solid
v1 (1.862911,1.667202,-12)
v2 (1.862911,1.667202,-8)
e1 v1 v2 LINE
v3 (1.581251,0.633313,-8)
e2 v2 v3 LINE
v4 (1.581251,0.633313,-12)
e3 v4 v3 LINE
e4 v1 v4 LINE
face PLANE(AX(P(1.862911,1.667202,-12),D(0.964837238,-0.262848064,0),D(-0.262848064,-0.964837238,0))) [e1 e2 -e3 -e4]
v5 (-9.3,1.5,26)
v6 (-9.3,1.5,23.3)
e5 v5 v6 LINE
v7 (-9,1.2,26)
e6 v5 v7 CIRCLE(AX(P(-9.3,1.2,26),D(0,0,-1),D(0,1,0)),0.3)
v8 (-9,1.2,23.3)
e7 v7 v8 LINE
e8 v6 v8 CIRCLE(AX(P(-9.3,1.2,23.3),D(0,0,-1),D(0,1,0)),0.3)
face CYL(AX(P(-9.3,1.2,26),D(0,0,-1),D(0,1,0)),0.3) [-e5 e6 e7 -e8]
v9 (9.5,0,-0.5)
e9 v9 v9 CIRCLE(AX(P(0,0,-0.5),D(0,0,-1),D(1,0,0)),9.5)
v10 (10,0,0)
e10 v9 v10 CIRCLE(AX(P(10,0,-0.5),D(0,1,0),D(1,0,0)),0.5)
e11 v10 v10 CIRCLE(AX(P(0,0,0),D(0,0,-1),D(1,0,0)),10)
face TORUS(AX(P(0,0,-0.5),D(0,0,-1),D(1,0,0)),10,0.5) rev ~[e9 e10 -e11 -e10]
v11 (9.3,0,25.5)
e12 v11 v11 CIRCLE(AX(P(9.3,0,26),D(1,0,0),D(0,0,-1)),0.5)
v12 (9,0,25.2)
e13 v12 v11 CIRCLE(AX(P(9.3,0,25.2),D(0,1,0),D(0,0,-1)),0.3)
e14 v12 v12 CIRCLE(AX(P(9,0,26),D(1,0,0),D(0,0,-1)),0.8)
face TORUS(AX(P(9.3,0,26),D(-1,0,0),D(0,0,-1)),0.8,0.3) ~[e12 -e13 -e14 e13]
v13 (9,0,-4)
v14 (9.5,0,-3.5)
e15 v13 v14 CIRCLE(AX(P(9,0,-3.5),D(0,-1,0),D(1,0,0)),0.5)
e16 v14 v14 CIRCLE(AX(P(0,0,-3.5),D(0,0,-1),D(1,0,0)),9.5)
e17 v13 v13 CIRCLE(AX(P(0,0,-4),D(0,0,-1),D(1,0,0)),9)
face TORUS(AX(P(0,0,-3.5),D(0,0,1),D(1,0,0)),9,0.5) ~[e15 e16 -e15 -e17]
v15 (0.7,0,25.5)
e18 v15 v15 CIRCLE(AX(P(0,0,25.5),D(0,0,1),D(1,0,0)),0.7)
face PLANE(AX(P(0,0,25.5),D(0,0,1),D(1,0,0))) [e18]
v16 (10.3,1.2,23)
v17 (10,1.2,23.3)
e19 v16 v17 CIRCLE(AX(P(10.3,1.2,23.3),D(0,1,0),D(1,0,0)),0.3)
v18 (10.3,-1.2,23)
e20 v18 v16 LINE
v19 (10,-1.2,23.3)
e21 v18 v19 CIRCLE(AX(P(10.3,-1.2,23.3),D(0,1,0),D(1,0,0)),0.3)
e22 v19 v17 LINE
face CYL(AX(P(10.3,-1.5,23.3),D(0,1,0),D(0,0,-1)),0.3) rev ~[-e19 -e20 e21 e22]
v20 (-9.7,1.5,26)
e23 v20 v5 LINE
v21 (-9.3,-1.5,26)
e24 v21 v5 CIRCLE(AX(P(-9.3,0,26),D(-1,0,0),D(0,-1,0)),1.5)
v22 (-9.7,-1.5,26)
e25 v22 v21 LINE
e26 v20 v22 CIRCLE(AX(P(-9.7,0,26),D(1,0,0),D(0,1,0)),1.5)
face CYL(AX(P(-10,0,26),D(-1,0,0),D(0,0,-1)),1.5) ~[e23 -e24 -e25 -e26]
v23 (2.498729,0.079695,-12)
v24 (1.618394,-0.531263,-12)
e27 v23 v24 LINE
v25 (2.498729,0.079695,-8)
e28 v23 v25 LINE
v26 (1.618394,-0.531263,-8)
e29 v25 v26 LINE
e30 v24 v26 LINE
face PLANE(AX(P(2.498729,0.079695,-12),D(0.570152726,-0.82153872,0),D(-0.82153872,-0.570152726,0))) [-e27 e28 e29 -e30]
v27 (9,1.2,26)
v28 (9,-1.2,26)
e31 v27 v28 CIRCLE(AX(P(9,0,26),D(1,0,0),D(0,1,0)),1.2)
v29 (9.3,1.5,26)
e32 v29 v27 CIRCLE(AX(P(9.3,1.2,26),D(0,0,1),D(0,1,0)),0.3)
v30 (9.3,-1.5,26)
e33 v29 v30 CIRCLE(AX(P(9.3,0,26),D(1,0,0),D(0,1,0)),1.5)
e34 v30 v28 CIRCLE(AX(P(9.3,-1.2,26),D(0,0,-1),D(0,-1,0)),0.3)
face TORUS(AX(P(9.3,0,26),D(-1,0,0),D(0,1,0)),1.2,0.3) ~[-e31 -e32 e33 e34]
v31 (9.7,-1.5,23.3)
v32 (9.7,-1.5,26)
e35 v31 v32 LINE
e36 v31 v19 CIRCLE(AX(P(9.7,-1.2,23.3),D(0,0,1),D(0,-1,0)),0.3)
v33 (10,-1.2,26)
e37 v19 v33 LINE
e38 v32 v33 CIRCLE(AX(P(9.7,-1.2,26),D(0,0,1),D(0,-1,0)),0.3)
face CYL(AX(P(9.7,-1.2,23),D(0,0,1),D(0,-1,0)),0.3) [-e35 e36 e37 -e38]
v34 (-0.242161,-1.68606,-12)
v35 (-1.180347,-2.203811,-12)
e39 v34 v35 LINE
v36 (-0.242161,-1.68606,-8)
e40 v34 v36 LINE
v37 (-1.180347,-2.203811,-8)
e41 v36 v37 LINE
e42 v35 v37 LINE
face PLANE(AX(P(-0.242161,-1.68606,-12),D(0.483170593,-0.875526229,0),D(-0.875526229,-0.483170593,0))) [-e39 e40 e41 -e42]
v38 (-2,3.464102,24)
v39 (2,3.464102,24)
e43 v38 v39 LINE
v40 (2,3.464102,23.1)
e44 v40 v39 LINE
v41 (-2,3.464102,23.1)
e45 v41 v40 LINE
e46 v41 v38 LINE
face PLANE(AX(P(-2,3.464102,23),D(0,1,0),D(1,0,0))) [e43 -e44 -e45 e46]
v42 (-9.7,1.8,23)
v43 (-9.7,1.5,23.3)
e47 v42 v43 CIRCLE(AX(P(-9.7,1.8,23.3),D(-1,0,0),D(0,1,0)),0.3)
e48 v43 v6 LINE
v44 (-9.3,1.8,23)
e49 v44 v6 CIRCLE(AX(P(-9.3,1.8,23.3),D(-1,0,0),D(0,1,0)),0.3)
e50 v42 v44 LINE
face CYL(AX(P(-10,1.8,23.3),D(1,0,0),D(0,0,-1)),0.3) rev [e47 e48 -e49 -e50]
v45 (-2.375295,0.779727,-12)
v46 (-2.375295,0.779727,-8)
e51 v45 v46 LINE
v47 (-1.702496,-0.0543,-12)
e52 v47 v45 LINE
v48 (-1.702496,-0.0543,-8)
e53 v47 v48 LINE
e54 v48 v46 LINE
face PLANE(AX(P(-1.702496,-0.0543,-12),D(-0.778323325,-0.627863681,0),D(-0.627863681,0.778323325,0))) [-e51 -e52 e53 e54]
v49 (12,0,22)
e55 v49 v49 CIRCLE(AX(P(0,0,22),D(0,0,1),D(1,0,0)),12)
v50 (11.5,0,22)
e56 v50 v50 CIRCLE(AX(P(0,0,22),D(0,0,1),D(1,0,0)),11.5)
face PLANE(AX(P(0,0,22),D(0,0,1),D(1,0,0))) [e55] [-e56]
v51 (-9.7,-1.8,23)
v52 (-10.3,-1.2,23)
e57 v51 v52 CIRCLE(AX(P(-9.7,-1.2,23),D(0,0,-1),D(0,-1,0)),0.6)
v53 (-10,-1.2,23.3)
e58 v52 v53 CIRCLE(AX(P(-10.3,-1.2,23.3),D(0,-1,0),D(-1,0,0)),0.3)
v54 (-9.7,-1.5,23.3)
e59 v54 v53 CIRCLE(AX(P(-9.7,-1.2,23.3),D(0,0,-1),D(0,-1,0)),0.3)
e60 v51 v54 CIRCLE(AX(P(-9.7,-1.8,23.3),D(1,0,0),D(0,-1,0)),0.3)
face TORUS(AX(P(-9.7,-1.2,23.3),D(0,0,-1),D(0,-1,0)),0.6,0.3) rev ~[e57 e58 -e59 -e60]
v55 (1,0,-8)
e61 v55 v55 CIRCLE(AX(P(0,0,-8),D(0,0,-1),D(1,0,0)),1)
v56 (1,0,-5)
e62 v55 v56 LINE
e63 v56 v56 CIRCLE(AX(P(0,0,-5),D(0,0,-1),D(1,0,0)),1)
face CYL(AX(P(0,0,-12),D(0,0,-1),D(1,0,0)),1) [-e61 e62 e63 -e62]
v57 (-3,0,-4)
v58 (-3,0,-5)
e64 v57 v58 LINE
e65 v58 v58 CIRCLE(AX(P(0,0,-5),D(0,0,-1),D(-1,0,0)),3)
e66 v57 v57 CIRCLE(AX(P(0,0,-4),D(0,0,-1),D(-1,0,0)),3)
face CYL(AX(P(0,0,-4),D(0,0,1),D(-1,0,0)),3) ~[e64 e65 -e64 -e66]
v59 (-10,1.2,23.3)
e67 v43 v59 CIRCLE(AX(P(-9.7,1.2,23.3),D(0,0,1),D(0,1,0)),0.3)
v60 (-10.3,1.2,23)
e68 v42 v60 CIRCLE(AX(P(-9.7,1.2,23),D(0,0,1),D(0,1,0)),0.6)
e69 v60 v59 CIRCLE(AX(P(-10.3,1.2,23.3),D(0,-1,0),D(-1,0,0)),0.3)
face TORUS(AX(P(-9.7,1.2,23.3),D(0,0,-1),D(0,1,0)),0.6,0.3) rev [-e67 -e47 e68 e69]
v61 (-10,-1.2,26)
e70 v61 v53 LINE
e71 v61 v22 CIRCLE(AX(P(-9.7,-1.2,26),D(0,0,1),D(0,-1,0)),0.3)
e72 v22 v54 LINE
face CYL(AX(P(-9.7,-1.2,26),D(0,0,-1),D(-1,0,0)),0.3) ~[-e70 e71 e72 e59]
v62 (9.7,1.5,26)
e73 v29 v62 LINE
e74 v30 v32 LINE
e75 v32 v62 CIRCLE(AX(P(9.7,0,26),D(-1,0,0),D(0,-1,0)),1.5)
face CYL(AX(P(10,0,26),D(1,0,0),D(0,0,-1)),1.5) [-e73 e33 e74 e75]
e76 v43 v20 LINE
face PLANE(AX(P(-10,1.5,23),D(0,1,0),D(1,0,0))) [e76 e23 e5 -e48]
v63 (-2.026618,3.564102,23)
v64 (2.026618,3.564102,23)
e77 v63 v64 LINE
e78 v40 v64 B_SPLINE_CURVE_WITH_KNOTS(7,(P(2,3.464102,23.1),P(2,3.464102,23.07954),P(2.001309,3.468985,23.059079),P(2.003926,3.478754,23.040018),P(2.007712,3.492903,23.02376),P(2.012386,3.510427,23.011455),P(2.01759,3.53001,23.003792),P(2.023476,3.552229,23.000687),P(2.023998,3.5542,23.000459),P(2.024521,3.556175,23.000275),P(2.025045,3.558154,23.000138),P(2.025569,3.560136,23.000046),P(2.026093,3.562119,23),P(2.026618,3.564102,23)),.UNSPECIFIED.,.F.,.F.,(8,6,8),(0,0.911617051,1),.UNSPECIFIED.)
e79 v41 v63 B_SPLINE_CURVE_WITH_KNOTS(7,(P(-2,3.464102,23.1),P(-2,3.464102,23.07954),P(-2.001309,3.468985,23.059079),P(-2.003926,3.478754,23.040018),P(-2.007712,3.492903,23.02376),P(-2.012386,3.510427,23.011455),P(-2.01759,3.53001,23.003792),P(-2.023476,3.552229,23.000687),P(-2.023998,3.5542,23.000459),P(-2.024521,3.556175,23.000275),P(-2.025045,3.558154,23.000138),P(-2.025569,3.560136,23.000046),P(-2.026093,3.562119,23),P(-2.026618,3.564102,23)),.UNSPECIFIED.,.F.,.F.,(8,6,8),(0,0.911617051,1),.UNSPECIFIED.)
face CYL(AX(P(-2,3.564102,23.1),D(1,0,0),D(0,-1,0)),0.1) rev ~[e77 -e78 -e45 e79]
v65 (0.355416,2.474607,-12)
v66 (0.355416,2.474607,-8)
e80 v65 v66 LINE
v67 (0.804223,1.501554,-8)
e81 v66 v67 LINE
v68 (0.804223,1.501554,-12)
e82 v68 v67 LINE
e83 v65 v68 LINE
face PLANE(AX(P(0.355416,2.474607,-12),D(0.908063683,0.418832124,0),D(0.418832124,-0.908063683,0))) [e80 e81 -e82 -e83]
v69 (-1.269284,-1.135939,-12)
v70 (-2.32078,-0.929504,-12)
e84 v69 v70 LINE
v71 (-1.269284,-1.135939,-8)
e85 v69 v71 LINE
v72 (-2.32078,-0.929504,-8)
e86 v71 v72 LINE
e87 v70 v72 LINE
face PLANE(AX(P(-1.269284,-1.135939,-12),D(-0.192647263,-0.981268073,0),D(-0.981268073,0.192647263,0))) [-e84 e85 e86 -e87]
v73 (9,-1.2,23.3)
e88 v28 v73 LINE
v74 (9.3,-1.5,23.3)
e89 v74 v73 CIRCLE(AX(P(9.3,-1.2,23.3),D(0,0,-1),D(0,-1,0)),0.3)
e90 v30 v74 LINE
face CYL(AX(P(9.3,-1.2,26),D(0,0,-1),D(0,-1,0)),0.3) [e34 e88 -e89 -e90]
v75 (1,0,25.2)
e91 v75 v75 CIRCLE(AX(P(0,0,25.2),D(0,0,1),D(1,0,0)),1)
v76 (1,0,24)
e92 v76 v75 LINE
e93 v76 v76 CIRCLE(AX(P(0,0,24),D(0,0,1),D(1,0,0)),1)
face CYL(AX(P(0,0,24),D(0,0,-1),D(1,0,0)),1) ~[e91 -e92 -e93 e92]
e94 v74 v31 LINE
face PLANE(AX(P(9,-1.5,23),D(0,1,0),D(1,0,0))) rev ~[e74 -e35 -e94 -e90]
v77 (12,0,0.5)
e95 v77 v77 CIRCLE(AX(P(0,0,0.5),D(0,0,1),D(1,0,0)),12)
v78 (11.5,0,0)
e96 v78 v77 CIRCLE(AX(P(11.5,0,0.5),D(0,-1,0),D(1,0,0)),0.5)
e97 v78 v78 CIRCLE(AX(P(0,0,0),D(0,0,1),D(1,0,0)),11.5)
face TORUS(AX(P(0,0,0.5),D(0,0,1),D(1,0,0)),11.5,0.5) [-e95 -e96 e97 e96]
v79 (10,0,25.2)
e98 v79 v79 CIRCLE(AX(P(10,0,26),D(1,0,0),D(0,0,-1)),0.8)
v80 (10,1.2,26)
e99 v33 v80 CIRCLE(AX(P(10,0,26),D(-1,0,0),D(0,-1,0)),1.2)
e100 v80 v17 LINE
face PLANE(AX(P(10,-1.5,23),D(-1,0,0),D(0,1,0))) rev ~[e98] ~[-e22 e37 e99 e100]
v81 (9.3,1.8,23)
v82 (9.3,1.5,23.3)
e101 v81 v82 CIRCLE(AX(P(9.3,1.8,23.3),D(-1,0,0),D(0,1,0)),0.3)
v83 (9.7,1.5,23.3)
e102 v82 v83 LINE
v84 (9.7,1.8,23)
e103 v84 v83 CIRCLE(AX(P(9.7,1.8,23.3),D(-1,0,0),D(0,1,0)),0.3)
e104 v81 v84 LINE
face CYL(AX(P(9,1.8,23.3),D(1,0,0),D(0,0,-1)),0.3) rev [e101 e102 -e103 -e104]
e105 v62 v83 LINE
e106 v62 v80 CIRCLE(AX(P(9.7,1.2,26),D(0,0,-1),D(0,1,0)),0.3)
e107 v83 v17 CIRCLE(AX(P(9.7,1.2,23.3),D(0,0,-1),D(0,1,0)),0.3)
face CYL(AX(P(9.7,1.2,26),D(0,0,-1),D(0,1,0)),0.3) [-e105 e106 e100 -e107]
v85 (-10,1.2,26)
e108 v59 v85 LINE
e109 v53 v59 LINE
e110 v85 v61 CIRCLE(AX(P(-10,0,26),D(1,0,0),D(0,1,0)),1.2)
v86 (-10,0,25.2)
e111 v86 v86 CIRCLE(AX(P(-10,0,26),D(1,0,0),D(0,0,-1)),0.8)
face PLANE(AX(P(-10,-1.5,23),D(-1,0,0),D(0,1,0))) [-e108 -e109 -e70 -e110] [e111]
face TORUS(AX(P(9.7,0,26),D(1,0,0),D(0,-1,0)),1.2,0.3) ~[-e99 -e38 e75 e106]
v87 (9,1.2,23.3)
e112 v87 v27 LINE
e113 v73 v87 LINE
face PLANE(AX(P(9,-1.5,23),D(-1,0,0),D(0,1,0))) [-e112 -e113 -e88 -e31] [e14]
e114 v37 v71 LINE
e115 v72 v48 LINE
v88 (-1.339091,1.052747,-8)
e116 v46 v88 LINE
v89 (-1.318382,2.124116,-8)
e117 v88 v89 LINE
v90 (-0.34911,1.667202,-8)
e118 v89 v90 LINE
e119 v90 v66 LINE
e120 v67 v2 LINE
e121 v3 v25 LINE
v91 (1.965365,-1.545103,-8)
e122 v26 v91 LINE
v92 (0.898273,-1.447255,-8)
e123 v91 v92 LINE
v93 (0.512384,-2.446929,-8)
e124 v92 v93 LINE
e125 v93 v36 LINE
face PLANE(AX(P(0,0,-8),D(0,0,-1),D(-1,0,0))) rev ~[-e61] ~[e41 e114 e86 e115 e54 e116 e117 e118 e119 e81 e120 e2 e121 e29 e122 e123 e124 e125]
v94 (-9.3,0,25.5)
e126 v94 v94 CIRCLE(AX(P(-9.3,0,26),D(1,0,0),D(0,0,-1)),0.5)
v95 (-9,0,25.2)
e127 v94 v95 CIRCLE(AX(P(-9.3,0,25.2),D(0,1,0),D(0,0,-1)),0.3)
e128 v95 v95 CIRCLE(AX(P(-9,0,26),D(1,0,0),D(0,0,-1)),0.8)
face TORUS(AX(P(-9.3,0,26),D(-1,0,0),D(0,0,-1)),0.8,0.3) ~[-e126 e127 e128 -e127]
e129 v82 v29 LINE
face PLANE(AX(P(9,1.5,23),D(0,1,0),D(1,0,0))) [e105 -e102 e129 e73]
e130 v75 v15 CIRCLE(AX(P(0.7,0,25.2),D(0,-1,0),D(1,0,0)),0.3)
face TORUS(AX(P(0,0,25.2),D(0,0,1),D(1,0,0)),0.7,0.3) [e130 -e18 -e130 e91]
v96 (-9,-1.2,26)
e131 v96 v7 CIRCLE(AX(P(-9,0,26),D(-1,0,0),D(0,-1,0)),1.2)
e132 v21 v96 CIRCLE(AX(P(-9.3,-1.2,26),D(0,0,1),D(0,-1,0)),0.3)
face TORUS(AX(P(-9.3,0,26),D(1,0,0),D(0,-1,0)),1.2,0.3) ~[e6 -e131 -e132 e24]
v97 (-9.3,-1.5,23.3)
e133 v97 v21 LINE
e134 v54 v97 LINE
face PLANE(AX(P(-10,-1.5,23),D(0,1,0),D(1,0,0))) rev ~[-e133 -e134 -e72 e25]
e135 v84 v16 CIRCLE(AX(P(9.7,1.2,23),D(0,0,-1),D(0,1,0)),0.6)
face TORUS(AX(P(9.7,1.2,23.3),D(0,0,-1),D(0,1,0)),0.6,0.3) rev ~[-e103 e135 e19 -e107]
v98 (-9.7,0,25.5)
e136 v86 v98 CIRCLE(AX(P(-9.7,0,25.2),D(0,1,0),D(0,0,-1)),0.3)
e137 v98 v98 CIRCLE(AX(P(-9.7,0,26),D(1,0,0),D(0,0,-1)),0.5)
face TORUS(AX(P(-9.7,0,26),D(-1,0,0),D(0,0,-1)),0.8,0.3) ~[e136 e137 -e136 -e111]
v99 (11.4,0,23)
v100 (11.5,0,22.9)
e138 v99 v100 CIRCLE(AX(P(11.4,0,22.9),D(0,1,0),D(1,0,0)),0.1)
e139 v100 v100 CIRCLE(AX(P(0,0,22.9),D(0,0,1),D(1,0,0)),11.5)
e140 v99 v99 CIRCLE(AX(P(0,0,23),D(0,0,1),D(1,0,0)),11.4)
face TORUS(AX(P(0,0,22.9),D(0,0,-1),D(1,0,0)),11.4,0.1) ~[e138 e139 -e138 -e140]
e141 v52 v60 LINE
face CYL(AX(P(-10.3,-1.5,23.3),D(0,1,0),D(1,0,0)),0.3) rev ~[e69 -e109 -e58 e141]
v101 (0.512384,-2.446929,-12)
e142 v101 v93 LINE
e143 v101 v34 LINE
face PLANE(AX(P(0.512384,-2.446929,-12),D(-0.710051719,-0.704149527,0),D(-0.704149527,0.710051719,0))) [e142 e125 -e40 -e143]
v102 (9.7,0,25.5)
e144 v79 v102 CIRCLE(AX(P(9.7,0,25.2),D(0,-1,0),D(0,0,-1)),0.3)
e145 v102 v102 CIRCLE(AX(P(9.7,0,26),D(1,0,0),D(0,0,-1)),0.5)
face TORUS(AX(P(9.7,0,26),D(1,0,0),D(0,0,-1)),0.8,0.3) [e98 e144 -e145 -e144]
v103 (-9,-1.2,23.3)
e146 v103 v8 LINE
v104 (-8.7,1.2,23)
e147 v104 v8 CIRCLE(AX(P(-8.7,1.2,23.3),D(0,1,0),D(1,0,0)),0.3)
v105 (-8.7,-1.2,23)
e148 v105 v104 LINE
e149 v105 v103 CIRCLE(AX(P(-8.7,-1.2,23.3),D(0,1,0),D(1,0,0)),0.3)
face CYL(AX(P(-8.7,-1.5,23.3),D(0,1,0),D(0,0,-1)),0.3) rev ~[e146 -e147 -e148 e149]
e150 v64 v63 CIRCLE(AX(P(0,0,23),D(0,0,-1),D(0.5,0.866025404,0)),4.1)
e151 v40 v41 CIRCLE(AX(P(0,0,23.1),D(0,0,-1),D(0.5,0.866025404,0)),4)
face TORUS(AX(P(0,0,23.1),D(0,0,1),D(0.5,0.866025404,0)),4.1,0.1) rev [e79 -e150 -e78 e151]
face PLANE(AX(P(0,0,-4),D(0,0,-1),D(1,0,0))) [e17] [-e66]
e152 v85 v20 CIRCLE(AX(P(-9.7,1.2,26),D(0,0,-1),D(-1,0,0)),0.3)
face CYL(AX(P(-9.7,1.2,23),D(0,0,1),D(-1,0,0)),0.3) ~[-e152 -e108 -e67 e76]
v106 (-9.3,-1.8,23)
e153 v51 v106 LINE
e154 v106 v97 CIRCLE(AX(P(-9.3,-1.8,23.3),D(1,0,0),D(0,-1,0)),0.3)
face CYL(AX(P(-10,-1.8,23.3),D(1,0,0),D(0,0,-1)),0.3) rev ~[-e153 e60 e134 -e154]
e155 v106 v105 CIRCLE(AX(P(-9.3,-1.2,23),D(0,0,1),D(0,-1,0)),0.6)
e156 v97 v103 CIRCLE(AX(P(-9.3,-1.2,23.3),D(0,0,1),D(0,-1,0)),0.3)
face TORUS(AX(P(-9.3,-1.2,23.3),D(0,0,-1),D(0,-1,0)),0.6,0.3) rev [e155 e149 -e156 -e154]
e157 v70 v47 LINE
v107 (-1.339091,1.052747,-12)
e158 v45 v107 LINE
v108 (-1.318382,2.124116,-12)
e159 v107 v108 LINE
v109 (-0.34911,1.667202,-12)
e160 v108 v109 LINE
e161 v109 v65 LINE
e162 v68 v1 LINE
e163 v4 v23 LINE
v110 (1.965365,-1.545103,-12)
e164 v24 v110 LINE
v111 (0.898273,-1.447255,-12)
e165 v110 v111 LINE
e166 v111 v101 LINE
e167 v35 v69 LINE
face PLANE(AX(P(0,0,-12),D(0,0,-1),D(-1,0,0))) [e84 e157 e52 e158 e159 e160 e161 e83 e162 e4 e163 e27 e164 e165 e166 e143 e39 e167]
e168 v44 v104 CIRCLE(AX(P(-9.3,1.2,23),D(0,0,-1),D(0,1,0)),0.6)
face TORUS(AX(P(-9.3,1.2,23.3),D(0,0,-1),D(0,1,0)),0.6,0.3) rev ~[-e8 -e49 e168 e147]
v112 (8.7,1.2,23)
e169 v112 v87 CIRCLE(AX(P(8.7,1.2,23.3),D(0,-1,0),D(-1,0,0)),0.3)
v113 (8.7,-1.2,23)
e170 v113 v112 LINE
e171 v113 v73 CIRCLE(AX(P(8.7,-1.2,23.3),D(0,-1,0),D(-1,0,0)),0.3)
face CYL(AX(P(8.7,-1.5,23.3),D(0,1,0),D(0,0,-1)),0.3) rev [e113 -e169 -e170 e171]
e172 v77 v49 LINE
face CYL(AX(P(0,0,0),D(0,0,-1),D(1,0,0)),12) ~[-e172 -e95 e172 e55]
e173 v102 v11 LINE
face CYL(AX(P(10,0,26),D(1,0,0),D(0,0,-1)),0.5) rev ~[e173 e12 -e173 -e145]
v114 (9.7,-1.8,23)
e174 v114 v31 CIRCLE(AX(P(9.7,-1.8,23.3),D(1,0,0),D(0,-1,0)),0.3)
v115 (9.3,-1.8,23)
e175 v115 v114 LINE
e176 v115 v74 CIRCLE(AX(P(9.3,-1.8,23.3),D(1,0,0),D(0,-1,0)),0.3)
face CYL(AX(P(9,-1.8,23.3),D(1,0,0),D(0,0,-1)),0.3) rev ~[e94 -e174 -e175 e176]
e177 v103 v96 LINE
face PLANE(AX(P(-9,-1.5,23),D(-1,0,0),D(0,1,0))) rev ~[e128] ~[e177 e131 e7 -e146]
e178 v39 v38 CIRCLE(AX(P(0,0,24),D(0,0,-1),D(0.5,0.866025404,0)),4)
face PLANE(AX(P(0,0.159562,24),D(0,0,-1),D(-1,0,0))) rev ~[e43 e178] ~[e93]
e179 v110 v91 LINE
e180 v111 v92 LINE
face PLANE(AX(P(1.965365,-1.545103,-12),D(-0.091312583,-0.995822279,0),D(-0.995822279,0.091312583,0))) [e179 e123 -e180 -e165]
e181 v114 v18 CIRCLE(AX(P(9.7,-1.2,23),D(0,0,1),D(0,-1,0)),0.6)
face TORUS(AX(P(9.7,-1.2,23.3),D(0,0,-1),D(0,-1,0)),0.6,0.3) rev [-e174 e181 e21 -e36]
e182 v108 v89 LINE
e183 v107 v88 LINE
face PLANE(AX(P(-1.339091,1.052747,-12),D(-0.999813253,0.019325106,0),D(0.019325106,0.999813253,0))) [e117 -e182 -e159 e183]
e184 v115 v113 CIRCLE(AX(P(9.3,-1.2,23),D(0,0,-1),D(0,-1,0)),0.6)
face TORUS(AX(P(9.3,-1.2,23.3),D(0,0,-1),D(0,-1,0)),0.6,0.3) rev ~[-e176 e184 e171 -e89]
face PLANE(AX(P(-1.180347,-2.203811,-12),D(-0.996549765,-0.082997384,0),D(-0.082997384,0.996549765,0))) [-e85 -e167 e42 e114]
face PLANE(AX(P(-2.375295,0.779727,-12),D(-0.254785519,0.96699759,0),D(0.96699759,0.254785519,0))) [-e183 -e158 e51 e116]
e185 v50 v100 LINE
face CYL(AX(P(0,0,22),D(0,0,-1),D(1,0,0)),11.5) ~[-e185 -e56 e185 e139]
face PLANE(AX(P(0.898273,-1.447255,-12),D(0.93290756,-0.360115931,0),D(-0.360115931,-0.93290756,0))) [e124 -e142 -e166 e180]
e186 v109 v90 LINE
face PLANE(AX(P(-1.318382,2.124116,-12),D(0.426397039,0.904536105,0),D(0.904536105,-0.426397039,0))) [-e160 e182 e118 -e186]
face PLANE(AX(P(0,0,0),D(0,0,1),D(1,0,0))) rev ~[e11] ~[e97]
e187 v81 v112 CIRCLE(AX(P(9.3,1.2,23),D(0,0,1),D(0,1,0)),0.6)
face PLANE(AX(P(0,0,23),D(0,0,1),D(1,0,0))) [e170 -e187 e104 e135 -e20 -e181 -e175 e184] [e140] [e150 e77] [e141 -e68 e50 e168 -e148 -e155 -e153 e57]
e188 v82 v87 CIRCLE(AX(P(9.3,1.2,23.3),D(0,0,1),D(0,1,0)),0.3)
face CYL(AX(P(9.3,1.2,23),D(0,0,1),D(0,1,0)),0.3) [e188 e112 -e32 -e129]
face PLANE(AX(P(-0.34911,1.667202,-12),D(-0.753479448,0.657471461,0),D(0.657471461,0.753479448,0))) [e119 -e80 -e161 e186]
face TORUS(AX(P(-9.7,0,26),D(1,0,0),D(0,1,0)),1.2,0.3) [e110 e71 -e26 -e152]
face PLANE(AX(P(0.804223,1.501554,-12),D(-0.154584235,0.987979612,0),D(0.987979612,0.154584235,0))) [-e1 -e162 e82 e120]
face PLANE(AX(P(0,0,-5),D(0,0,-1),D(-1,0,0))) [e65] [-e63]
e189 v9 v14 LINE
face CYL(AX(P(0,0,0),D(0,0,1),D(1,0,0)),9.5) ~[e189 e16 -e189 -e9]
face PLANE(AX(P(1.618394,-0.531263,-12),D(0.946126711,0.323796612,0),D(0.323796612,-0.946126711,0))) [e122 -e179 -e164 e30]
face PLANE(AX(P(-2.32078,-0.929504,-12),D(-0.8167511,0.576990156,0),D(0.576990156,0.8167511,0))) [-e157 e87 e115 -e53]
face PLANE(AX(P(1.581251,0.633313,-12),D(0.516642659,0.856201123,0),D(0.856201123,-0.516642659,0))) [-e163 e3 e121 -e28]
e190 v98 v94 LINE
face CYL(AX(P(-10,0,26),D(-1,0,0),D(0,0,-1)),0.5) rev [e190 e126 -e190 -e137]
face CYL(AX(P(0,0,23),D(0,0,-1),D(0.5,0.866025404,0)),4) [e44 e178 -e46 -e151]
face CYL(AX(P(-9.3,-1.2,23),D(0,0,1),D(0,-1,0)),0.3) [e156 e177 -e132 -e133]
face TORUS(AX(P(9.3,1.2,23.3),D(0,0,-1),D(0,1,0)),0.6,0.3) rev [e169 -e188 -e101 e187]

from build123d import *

# Parameters (mm, degrees)
SKETCH_1_R          = 12
EXTRUDE_1_DEPTH     = 22
SKETCH_2_R          = 11.5
EXTRUDE_2_DEPTH     = 1
EXTRUDE_3_DEPTH     = 1
SKETCH_4_R          = 1
EXTRUDE_4_DEPTH     = 1.5
SKETCH_5_W          = 1
SKETCH_5_H          = 3
EXTRUDE_5_DEPTH     = 3
SKETCH_6_R          = 1.5
EXTRUDE_6_DEPTH     = 1
SKETCH_7_R          = 0.5
CUT_EXTRUDE_1_DEPTH = 1
FILLET_3_R          = 0.3
FILLET_4_R          = 0.3
FILLET_5_R          = 0.1
SKETCH_8_R          = 9.5
EXTRUDE_7_DEPTH     = 4
SKETCH_9_R          = 3
EXTRUDE_8_DEPTH     = 1
EXTRUDE_START       = 7
SKETCH_10_R         = 1
EXTRUDE_9_DEPTH     = 7
EXTRUDE_10_DEPTH    = 4
FILLET_6_R          = 0.5


with BuildPart() as part:
    # Эскиз1 → Бобышка-Вытянуть1 (new body)
    with BuildSketch(Plane.XY):
        Circle(SKETCH_1_R)
    extrude(amount=EXTRUDE_1_DEPTH)

    # Эскиз2 → Бобышка-Вытянуть2 (add)
    with BuildSketch(Plane.XY.offset(22)):
        Circle(SKETCH_2_R)
    extrude(amount=EXTRUDE_2_DEPTH)

    # Эскиз3 → Бобышка-Вытянуть3 (add)
    with BuildSketch(Plane.XY.offset(23)):
        with BuildLine():
            Line((-2, 3.464101615), (2, 3.464101615))
            ThreePointArc((2, 3.464101615), (0, -4), (-2, 3.464101615))
        make_face()
    extrude(amount=EXTRUDE_3_DEPTH)

    # Эскиз4 → Бобышка-Вытянуть4 (add)
    with BuildSketch(Plane.XY.offset(24)):
        Circle(SKETCH_4_R)
    extrude(amount=EXTRUDE_4_DEPTH)

    # Эскиз5 → Бобышка-Вытянуть5 (add)
    with BuildSketch(Plane.XY.offset(23)):
        with Locations((9.5, 0)):
            Rectangle(SKETCH_5_W, SKETCH_5_H)
        with Locations((-9.5, 0)):
            Rectangle(SKETCH_5_W, SKETCH_5_H)
    extrude(amount=EXTRUDE_5_DEPTH)

    # Эскиз6 → Бобышка-Вытянуть6 (add)
    with BuildSketch(Plane(origin=(10, 0, 0), x_dir=(0, 0, -1), z_dir=(1, 0, 0))):
        with Locations((-26, 0)):
            Circle(SKETCH_6_R)
    extrude_6 = extrude(amount=-EXTRUDE_6_DEPTH)

    # Эскиз7 → Вырез-Вытянуть1 (cut)
    with BuildSketch(Plane(origin=(10, 0, 0), x_dir=(0, 0, -1), z_dir=(1, 0, 0))):
        with Locations((-26, 0)):
            Circle(SKETCH_7_R)
    cut_extrude_1 = extrude(amount=-CUT_EXTRUDE_1_DEPTH, mode=Mode.SUBTRACT)

    # Зеркальное отражение5: Бобышка-Вытянуть6, Вырез-Вытянуть1 across plane
    add(extrude_6.mirror(Plane(origin=(0, 0, 0), x_dir=(0, 0, 1), z_dir=(1, 0, 0))))
    add(cut_extrude_1.mirror(Plane(origin=(0, 0, 0), x_dir=(0, 0, 1), z_dir=(1, 0, 0))), mode=Mode.SUBTRACT)

    # Скругление3
    fillet_3_edges = [part.edges().sort_by_distance(p)[0] for p in [
        (-10, 0, 23),
        (-10, 1.5, 24.5),
        (-9.5, -1.5, 23),
        (-10, -1.5, 24.5),
        (-9, 0, 23),
        (-9, -1.5, 24.5),
        (-9.5, 1.5, 23),
        (-9, 1.5, 24.5),
        (10, 0, 23),
        (10, -1.5, 24.5),
        (9.5, 1.5, 23),
        (10, 1.5, 24.5),
        (9, 0, 23),
        (9, 1.5, 24.5),
        (9.5, -1.5, 23),
        (9, -1.5, 24.5),
        (9, 0, 27.5),
        (10, 0, 27.5),
        (9, 0, 26.5),
        (10, 0, 26.5),
        (-10, 0, 27.5),
        (-9, 0, 27.5),
        (-10, 0, 26.5),
        (-9, 0, 26.5),
    ]]
    fillet(fillet_3_edges, radius=FILLET_3_R)

    # Скругление4
    fillet_4_edges = [part.edges().sort_by_distance(p)[0] for p in [
        (-1, 0, 25.5),
    ]]
    fillet(fillet_4_edges, radius=FILLET_4_R)

    # Скругление5
    fillet_5_edges = [part.edges().sort_by_distance(p)[0] for p in [
        (0, -4, 23),
        (0, 3.464101615, 23),
        (-11.5, 0, 23),
    ]]
    fillet(fillet_5_edges, radius=FILLET_5_R)

    # Эскиз8 → Бобышка-Вытянуть7 (add)
    with BuildSketch(Plane(origin=(0, 0, 0), x_dir=(-1, 0, 0), z_dir=(0, 0, -1))):
        with Locations(Location((0, 0, 0), (0, 0, 180))):
            Circle(SKETCH_8_R)
    extrude(amount=EXTRUDE_7_DEPTH)

    # Эскиз9 → Бобышка-Вытянуть8 (add)
    with BuildSketch(Plane(origin=(0, 0, -4), x_dir=(-1, 0, 0), z_dir=(0, 0, -1))):
        Circle(SKETCH_9_R)
    extrude(amount=EXTRUDE_8_DEPTH)

    # Эскиз10 → Бобышка-Вытянуть9 (add)
    with BuildSketch(Plane(origin=(0, 0, -5), x_dir=(-1, 0, 0), z_dir=(0, 0, -1)).offset(EXTRUDE_START)):
        with Locations(Location((0, 0, 0), (0, 0, 180))):
            Circle(SKETCH_10_R)
    extrude(amount=-EXTRUDE_9_DEPTH)

    # Эскиз11 → Бобышка-Вытянуть10 (add)
    with BuildSketch(Plane(origin=(0, 0, -12), x_dir=(-1, 0, 0), z_dir=(0, 0, -1))):
        Polygon((-0.51238389, -2.446929249), (0.242160598, -1.686060157), (1.180346971, -2.20381057), (1.269284358, -1.135939182), (2.320780367, -0.929504433), (1.702495861, -0.054299639), (2.375294836, 0.779727159), (1.339090629, 1.052747308), (1.318382453, 2.124115747), (0.349110009, 1.66720209), (-0.355415732, 2.47460697), (-0.804223064, 1.501554485), (-1.862910946, 1.66720209), (-1.581251227, 0.633312849), (-2.498729424, 0.079694823), (-1.618394368, -0.531262908), (-1.965364635, -1.545102538), (-0.898272797, -1.447254846), align=None)
    extrude(amount=-EXTRUDE_10_DEPTH)

    # Скругление6
    fillet_6_edges = [part.edges().sort_by_distance(p)[0] for p in [
        (-9.5, 0, 0),
        (-9.5, 0, -4),
        (-12, 0, 0),
    ]]
    fillet(fillet_6_edges, radius=FILLET_6_R)


solid = part.part
